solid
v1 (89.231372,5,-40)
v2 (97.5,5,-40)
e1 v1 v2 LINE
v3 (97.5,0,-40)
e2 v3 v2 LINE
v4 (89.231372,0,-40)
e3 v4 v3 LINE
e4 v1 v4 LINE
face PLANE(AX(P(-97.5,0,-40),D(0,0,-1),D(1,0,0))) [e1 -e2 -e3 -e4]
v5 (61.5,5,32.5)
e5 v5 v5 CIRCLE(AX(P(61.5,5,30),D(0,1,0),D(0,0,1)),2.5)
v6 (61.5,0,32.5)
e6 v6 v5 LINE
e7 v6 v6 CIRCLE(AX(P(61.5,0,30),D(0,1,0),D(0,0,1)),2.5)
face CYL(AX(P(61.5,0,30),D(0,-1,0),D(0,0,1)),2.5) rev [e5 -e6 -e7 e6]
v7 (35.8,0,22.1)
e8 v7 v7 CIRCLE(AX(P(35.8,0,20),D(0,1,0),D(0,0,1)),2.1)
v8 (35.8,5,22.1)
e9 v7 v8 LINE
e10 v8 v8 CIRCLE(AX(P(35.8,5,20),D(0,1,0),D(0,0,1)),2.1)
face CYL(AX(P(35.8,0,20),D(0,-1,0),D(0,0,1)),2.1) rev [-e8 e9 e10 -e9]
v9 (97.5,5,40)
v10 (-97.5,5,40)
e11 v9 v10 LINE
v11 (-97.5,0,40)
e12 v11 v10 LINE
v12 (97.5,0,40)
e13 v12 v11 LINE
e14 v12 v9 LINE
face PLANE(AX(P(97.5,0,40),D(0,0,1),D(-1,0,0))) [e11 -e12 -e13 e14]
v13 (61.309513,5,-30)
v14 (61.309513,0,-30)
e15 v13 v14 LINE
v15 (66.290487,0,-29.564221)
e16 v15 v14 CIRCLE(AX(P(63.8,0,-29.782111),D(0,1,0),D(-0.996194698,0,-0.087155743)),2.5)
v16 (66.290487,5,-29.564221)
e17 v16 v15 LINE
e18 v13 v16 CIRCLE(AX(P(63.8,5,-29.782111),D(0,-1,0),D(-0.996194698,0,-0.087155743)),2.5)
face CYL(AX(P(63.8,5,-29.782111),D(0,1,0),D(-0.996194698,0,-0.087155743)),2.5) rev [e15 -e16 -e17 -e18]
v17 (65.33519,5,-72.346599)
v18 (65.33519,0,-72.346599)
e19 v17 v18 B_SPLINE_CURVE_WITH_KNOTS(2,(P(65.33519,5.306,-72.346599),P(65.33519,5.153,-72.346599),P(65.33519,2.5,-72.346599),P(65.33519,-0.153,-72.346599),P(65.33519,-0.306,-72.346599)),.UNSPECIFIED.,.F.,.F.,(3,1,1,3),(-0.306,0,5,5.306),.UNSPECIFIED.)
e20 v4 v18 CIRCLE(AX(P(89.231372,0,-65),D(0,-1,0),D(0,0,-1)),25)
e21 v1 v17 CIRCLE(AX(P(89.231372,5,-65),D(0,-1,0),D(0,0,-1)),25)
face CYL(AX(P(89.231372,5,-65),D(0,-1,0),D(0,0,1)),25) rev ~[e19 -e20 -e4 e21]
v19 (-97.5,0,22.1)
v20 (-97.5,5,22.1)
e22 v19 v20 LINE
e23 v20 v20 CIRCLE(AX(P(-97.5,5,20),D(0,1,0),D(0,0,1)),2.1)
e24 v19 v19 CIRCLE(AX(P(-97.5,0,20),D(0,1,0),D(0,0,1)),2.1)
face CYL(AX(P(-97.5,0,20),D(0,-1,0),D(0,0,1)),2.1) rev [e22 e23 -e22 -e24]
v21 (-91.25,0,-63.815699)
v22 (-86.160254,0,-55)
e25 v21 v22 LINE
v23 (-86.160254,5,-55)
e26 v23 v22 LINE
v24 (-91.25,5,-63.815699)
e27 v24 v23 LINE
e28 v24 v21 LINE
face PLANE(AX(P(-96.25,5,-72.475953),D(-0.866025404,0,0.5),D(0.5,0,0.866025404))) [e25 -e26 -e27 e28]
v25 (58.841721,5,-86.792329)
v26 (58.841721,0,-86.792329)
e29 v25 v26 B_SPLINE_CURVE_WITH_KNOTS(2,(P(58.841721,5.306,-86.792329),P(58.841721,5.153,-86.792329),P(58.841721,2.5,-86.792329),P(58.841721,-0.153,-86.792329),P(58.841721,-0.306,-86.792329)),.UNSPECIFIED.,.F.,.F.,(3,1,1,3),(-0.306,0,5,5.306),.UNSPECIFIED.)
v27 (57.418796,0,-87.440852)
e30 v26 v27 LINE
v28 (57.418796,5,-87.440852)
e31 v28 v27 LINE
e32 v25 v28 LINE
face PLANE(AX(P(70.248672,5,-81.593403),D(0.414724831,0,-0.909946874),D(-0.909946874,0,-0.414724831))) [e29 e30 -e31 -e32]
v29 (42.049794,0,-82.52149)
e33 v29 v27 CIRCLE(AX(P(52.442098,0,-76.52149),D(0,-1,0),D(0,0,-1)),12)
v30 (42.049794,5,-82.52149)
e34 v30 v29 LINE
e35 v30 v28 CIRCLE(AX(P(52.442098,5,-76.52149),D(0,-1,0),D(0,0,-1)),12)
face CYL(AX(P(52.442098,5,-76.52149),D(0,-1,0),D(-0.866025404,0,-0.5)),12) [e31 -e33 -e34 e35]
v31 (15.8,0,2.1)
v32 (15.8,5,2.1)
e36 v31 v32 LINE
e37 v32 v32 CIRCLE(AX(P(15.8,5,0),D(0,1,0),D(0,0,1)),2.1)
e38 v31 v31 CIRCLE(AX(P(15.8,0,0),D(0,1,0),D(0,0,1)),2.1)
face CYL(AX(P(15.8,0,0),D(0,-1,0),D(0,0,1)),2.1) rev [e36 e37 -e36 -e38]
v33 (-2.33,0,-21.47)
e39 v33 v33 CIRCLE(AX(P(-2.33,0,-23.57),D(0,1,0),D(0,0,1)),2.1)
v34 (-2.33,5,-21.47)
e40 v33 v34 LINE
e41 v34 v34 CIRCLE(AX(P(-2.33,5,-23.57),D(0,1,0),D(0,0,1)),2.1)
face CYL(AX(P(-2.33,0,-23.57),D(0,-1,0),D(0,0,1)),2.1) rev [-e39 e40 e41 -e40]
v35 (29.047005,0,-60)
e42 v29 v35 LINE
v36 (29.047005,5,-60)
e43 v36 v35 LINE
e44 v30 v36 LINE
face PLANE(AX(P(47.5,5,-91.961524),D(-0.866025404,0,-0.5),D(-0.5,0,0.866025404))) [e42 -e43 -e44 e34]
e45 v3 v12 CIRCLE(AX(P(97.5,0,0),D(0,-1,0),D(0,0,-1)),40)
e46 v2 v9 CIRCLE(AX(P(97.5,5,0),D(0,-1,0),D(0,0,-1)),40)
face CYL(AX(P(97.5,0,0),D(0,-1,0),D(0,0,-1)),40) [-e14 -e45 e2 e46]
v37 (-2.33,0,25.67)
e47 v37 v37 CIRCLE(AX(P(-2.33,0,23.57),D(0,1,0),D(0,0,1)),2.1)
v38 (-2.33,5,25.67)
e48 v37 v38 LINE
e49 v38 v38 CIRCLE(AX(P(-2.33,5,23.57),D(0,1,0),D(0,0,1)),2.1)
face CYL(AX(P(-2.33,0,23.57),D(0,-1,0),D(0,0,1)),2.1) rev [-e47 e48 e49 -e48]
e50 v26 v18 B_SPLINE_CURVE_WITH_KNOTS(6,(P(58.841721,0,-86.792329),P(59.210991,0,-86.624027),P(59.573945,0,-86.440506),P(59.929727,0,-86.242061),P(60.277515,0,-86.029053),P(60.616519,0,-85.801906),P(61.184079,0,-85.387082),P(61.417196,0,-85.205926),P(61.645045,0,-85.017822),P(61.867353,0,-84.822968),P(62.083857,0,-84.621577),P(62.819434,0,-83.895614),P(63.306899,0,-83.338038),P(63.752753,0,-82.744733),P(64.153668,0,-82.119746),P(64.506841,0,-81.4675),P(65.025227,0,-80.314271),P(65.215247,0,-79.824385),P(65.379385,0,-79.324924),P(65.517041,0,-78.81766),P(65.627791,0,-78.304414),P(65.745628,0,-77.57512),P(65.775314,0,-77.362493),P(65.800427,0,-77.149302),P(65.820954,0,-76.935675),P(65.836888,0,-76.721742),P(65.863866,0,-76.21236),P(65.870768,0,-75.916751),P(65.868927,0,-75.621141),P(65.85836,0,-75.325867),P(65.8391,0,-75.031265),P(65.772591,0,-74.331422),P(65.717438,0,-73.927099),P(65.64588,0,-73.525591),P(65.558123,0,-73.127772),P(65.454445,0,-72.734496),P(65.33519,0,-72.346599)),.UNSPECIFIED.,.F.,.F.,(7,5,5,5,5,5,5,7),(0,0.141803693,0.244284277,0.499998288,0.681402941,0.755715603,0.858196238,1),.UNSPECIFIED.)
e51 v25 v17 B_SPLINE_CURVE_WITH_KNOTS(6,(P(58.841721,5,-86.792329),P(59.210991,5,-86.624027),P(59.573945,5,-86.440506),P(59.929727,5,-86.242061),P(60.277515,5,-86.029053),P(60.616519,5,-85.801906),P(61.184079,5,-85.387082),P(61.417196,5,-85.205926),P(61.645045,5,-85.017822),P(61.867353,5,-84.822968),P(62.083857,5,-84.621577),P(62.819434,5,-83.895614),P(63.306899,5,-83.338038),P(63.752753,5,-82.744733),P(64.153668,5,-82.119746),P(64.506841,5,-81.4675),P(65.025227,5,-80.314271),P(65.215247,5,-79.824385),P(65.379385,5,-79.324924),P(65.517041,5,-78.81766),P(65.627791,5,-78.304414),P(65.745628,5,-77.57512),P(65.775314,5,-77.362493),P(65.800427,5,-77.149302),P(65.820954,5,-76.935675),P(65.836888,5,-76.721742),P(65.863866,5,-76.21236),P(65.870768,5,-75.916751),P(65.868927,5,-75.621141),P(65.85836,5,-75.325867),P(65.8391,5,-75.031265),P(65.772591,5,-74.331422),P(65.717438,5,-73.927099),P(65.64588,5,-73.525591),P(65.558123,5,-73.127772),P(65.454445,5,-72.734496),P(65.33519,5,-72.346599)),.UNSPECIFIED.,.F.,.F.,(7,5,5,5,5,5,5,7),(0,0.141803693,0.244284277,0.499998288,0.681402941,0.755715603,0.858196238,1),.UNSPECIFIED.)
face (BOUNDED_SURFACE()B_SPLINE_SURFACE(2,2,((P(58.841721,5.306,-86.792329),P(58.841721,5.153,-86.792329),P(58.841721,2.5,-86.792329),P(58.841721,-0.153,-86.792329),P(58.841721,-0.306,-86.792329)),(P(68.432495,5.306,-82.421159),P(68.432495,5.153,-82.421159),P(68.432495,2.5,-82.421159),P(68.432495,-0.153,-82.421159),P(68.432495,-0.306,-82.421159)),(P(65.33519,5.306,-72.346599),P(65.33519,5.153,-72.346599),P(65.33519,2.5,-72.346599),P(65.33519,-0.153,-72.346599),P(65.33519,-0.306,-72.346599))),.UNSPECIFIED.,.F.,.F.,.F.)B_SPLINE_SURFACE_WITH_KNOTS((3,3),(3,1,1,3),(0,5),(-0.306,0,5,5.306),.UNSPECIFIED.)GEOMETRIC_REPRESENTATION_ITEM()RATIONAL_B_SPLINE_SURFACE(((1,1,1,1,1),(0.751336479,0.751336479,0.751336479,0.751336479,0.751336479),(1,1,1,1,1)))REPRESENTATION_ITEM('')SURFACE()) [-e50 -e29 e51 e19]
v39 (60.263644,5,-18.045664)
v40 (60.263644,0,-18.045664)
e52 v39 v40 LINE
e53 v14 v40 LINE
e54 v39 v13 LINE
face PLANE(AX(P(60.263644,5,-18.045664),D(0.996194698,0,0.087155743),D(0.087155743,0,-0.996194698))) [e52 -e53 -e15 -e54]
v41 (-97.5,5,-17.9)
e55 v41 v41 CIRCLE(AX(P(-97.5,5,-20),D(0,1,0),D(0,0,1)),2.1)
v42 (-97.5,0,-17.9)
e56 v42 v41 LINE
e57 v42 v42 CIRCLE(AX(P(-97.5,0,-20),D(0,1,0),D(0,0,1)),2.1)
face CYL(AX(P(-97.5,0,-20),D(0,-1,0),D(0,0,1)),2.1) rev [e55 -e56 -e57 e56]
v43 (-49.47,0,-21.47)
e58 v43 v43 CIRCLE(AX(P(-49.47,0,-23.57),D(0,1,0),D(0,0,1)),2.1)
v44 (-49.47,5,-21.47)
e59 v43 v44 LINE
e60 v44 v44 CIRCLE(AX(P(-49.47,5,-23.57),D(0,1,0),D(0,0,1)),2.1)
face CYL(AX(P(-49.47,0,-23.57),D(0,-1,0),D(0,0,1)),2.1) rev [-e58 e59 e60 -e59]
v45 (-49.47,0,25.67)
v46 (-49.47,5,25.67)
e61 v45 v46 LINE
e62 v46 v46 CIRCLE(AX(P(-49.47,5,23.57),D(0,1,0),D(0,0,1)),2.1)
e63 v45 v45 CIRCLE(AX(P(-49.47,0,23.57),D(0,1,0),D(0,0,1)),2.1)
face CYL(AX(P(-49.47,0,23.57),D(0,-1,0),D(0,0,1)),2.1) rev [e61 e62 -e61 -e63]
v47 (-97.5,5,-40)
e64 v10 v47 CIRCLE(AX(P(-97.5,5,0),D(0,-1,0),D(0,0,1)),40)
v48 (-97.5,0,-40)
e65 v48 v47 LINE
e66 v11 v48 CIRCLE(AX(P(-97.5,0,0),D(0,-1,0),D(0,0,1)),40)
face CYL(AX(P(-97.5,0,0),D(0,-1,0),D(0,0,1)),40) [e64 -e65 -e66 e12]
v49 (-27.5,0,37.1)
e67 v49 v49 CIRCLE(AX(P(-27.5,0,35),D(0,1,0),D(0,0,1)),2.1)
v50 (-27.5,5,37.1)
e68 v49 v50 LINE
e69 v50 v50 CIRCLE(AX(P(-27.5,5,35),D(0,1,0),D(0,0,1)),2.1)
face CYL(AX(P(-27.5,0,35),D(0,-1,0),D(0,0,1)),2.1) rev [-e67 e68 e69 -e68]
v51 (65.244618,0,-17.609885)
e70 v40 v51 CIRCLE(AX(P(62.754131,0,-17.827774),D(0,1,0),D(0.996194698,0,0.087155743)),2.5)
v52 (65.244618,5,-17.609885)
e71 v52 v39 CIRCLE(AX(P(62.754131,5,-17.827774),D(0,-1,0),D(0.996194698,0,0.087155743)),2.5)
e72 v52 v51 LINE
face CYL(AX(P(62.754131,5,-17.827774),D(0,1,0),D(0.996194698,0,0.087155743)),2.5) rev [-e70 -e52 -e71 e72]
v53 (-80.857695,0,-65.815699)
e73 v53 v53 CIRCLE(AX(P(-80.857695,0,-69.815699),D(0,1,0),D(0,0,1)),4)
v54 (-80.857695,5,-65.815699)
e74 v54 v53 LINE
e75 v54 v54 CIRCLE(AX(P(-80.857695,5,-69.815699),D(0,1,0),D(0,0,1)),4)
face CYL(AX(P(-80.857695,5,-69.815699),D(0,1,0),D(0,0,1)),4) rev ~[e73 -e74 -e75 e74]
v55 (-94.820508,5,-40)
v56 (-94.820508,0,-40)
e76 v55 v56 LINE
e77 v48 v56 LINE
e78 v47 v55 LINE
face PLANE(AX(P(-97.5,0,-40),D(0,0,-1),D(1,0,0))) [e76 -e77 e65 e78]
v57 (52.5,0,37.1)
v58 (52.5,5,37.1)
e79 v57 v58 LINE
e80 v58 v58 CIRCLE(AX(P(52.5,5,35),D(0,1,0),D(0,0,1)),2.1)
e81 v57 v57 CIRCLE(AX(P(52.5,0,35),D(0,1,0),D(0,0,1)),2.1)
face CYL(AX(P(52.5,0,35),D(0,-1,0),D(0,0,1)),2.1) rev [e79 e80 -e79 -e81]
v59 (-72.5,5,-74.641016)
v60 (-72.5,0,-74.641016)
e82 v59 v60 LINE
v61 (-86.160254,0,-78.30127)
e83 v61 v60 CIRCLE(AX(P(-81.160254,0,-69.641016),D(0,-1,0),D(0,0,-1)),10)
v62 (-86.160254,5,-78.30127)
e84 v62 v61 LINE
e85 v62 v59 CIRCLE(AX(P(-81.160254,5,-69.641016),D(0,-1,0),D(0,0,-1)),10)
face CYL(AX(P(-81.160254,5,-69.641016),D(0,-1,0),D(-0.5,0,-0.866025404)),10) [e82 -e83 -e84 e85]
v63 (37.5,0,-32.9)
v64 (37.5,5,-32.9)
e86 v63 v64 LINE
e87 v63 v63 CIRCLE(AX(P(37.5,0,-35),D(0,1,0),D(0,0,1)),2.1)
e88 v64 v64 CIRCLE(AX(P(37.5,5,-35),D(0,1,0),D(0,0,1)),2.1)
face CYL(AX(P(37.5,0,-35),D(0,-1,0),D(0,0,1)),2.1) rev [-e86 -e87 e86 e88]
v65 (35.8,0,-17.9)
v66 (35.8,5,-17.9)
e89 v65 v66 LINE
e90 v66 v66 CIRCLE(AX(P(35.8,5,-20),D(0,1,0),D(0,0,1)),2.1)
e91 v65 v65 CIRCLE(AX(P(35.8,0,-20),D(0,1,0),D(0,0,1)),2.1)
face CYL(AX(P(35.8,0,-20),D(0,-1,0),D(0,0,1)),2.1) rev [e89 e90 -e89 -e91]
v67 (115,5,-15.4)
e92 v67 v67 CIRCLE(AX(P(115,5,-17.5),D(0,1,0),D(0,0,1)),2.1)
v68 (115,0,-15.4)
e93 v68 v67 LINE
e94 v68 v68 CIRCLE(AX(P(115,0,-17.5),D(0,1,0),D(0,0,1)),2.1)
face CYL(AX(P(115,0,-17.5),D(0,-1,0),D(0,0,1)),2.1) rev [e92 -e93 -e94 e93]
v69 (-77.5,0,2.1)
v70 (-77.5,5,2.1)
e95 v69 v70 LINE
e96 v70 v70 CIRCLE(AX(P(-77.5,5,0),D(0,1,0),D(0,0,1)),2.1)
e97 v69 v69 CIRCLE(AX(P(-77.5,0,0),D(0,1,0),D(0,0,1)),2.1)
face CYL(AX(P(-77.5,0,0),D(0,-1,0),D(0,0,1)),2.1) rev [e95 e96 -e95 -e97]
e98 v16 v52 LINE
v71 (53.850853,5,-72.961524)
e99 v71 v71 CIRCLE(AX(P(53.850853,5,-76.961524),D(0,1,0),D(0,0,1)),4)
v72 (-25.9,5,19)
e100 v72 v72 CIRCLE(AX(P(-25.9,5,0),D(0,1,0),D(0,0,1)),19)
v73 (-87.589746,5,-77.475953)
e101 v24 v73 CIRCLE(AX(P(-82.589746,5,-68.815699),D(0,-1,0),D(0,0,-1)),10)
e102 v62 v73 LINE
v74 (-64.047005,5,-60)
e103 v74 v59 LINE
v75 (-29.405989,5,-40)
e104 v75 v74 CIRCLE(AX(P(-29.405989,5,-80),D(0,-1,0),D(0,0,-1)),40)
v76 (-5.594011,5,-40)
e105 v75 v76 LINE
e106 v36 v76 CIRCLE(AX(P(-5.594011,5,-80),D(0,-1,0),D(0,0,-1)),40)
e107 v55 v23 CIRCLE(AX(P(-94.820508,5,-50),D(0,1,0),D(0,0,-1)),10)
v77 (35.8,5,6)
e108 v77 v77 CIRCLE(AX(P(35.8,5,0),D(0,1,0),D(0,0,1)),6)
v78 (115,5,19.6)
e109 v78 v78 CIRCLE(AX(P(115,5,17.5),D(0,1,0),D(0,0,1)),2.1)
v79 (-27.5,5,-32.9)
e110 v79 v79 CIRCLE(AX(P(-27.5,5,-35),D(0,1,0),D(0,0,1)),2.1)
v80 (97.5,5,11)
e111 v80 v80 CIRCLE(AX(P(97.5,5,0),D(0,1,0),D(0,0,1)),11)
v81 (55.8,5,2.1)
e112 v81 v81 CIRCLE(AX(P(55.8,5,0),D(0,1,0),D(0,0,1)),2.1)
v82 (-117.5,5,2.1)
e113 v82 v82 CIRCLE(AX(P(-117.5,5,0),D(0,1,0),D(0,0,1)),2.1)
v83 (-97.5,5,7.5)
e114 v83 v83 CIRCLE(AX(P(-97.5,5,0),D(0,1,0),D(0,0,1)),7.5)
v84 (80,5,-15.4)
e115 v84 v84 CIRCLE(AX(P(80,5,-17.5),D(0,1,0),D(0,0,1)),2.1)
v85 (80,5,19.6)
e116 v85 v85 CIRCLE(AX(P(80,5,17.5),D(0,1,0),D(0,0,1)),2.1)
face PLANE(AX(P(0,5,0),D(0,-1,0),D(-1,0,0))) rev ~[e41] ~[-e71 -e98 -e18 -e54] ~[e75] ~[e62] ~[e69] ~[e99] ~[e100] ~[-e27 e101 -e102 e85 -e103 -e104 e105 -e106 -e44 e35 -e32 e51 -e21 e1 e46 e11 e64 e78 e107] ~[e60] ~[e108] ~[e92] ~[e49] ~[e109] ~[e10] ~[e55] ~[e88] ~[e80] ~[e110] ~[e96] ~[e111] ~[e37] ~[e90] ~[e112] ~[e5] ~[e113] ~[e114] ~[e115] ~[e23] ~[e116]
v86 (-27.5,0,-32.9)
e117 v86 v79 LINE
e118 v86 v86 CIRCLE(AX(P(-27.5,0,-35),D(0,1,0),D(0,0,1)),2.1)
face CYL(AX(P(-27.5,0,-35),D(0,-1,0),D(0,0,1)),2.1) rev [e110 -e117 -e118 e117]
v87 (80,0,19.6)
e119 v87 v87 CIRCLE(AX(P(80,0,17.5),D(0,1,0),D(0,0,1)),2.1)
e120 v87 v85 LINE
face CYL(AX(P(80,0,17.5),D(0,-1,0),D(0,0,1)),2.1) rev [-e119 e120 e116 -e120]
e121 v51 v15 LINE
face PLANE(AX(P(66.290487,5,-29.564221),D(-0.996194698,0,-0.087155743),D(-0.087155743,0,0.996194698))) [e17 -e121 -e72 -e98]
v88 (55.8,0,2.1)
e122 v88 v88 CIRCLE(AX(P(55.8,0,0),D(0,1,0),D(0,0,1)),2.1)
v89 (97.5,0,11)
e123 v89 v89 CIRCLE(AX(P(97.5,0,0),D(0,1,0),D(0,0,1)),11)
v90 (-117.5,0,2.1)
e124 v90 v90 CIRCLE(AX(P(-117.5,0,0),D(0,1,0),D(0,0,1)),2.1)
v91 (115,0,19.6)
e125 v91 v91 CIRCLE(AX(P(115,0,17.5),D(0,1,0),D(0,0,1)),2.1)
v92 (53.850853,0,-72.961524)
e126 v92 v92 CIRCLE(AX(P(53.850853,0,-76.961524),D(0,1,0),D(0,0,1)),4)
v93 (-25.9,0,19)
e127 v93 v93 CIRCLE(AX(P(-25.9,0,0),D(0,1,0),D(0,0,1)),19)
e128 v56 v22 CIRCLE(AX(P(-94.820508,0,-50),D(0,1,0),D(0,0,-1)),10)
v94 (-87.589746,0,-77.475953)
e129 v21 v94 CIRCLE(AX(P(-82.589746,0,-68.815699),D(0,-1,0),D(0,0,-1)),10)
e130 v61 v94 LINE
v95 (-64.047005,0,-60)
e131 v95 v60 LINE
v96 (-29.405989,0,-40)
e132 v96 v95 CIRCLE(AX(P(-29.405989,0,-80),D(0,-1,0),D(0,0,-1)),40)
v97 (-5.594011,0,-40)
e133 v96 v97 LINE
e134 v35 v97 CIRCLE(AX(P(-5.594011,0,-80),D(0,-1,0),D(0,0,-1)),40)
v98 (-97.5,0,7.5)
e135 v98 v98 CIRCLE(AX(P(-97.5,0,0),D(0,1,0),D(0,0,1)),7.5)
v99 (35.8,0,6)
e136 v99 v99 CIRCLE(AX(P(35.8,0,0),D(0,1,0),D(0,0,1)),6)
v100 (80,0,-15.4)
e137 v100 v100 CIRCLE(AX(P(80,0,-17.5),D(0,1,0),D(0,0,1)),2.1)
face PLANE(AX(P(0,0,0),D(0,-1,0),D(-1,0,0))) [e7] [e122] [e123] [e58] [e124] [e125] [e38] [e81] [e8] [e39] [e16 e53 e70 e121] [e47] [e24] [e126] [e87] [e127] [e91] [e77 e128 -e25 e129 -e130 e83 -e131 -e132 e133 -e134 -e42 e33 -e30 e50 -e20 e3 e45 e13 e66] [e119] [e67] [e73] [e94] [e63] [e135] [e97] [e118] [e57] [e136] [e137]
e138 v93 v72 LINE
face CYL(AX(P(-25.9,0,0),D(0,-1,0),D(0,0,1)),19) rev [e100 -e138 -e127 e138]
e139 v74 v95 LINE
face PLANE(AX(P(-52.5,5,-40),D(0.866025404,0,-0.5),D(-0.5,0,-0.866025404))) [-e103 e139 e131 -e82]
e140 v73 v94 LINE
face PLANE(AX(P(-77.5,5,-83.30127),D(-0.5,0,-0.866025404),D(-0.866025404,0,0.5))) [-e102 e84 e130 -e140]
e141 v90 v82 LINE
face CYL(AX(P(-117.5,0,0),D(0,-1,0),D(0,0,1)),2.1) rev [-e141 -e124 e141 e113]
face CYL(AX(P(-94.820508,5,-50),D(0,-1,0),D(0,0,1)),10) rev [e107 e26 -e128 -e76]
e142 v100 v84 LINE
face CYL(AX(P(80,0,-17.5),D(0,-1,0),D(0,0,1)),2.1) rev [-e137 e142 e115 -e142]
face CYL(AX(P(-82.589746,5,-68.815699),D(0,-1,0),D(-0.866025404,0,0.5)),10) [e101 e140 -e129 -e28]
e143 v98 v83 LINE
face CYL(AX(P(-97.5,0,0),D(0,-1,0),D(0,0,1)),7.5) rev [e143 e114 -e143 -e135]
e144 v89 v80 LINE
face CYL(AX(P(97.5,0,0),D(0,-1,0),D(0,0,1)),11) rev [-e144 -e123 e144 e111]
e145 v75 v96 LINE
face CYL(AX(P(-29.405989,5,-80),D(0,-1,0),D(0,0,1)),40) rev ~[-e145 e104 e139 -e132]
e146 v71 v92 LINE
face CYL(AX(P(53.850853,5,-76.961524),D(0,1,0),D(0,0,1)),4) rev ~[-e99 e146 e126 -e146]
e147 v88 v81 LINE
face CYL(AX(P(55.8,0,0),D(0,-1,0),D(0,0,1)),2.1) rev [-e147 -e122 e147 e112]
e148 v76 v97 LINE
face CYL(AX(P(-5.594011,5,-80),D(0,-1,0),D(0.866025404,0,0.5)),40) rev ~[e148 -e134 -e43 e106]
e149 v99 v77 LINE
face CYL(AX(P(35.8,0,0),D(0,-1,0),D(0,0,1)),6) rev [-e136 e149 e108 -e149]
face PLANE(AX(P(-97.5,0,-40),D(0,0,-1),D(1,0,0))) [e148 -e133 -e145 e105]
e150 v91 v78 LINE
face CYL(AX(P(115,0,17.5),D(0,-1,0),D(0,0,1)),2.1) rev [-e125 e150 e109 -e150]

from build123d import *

# Parameters (mm, degrees)
SKETCH1_R           = 11
SKETCH1_R_2         = 6
SKETCH1_R_3         = 7.5
SKETCH1_R_4         = 2.1
SKETCH1_R_5         = 19
SKETCH1_R_6         = 2.5
BOSS_EXTRUDE1_DEPTH = 5
SKETCH6_R           = 4
BOSS_EXTRUDE2_DEPTH = 5
FILLET1_R           = 10
FILLET2_R           = 40
CUT_EXTRUDE5_DEPTH  = 159.977801764
SKETCH9_R           = 4
BOSS_EXTRUDE3_DEPTH = 5
FILLET4_R           = 25
FILLET6_R           = 40
FILLET7_R           = 12


with BuildPart() as part:
    # Sketch1 → Boss-Extrude1 (new body)
    with BuildSketch(Plane(origin=(0, 0, 0), x_dir=(1, 0, 0), z_dir=(0, 1, 0))):
        with BuildLine():
            Line((-97.5, 40), (97.5, 40))
            ThreePointArc((97.5, 40), (137.5, 0), (97.5, -40))
            Line((97.5, -40), (-97.5, -40))
            ThreePointArc((-97.5, -40), (-137.5, 0), (-97.5, 40))
        make_face()
        with Locations(Location((97.5, 0, 0), (0, 0, 270))):
            Circle(SKETCH1_R, mode=Mode.SUBTRACT)
        with Locations(Location((35.8, 0, 0), (0, 0, 270))):
            Circle(SKETCH1_R_2, mode=Mode.SUBTRACT)
        with Locations(Location((-97.5, 0, 0), (0, 0, 270))):
            Circle(SKETCH1_R_3, mode=Mode.SUBTRACT)
        with Locations(Location((-97.5, -20, 0), (0, 0, 270))):
            Circle(SKETCH1_R_4, mode=Mode.SUBTRACT)
        with Locations(Location((-117.5, 0, 0), (0, 0, 270))):
            Circle(SKETCH1_R_4, mode=Mode.SUBTRACT)
        with Locations(Location((-97.5, 20, 0), (0, 0, 270))):
            Circle(SKETCH1_R_4, mode=Mode.SUBTRACT)
        with Locations(Location((-77.5, 0, 0), (0, 0, 270))):
            Circle(SKETCH1_R_4, mode=Mode.SUBTRACT)
        with Locations(Location((-25.9, 0, 0), (0, 0, 270))):
            Circle(SKETCH1_R_5, mode=Mode.SUBTRACT)
        with Locations(Location((-27.5, 35, 0), (0, 0, 270))):
            Circle(SKETCH1_R_4, mode=Mode.SUBTRACT)
        with Locations(Location((37.5, 35, 0), (0, 0, 270))):
            Circle(SKETCH1_R_4, mode=Mode.SUBTRACT)
        with Locations(Location((52.5, -35, 0), (0, 0, 270))):
            Circle(SKETCH1_R_4, mode=Mode.SUBTRACT)
        with Locations(Location((-27.5, -35, 0), (0, 0, 270))):
            Circle(SKETCH1_R_4, mode=Mode.SUBTRACT)
        with Locations(Location((115, 17.5, 0), (0, 0, 270))):
            Circle(SKETCH1_R_4, mode=Mode.SUBTRACT)
        with Locations(Location((115, -17.5, 0), (0, 0, 270))):
            Circle(SKETCH1_R_4, mode=Mode.SUBTRACT)
        with Locations(Location((80, -17.5, 0), (0, 0, 270))):
            Circle(SKETCH1_R_4, mode=Mode.SUBTRACT)
        with Locations(Location((80, 17.5, 0), (0, 0, 270))):
            Circle(SKETCH1_R_4, mode=Mode.SUBTRACT)
        with Locations(Location((-2.33, -23.57, 0), (0, 0, 270))):
            Circle(SKETCH1_R_4, mode=Mode.SUBTRACT)
        with Locations(Location((-49.47, -23.57, 0), (0, 0, 270))):
            Circle(SKETCH1_R_4, mode=Mode.SUBTRACT)
        with Locations(Location((-49.47, 23.57, 0), (0, 0, 270))):
            Circle(SKETCH1_R_4, mode=Mode.SUBTRACT)
        with Locations(Location((-2.33, 23.57, 0), (0, 0, 270))):
            Circle(SKETCH1_R_4, mode=Mode.SUBTRACT)
        with Locations(Location((55.8, 0, 0), (0, 0, 270))):
            Circle(SKETCH1_R_4, mode=Mode.SUBTRACT)
        with Locations(Location((35.8, -20, 0), (0, 0, 270))):
            Circle(SKETCH1_R_4, mode=Mode.SUBTRACT)
        with Locations(Location((15.8, 0, 0), (0, 0, 270))):
            Circle(SKETCH1_R_4, mode=Mode.SUBTRACT)
        with Locations(Location((35.8, 20, 0), (0, 0, 270))):
            Circle(SKETCH1_R_4, mode=Mode.SUBTRACT)
        with Locations(Location((61.5, -30, 0), (0, 0, 270))):
            Circle(SKETCH1_R_6, mode=Mode.SUBTRACT)
    extrude(amount=BOSS_EXTRUDE1_DEPTH)

    # Sketch6 → Boss-Extrude2 (add)
    with BuildSketch(Plane(origin=(0, 5, 0), x_dir=(1, 0, 0), z_dir=(0, 1, 0))):
        Polygon((-52.5, 40), (-77.5, 83.301270189), (-96.25, 72.475952642), (-77.5, 40), align=None)
        with Locations(Location((-80.857695155, 69.815698604, 0), (0, 0, 270))):
            Circle(SKETCH6_R, mode=Mode.SUBTRACT)
    extrude(amount=-BOSS_EXTRUDE2_DEPTH)

    # Fillet1
    fillet1_edges = [part.edges().sort_by_distance(p)[0] for p in [
        (-77.5, 2.5, -40),
        (-96.25, 2.5, -72.475952642),
        (-77.5, 2.5, -83.301270189),
    ]]
    fillet(fillet1_edges, radius=FILLET1_R)

    # Fillet2
    fillet2_edges = [part.edges().sort_by_distance(p)[0] for p in [
        (-52.5, 2.5, -40),
    ]]
    fillet(fillet2_edges, radius=FILLET2_R)

    # Sketch8 → Cut-Extrude5 (cut, through all)
    with BuildSketch(Plane(origin=(0, 5, 0), x_dir=(1, 0, 0), z_dir=(0, 1, 0))):
        with BuildLine():
            Line((60.263644342, 18.045663623), (61.309513255, 30))
            ThreePointArc((61.309513255, 30), (64.017889357, 32.272597388), (66.290486745, 29.564221286))
            Line((66.290486745, 29.564221286), (65.244617832, 17.609884909))
            ThreePointArc((65.244617832, 17.609884909), (62.53624173, 15.337287521), (60.263644342, 18.045663623))
        make_face()
    extrude(amount=-CUT_EXTRUDE5_DEPTH, mode=Mode.SUBTRACT)

    # Sketch9 → Boss-Extrude3 (add)
    with BuildSketch(Plane(origin=(0, 5, 0), x_dir=(1, 0, 0), z_dir=(0, 1, 0))):
        Polygon((17.5, 40), (42.5, 40), (70.24867186, 81.593403443), (47.5, 91.961524227), align=None)
        with Locations(Location((53.850852961, 76.961524227, 0), (0, 0, 270))):
            Circle(SKETCH9_R, mode=Mode.SUBTRACT)
    extrude(amount=-BOSS_EXTRUDE3_DEPTH)

    # Fillet4
    fillet4_edges = [part.edges().sort_by_distance(p)[0] for p in [
        (42.5, 2.5, -40),
    ]]
    fillet(fillet4_edges, radius=FILLET4_R)

    # Fillet6
    fillet6_edges = [part.edges().sort_by_distance(p)[0] for p in [
        (17.5, 2.5, -40),
    ]]
    fillet(fillet6_edges, radius=FILLET6_R)

    # Fillet7
    fillet7_edges = [part.edges().sort_by_distance(p)[0] for p in [
        (47.5, 2.5, -91.961524227),
        (70.24867186, 2.5, -81.593403443),
    ]]
    fillet(fillet7_edges, radius=FILLET7_R)


solid = part.part
